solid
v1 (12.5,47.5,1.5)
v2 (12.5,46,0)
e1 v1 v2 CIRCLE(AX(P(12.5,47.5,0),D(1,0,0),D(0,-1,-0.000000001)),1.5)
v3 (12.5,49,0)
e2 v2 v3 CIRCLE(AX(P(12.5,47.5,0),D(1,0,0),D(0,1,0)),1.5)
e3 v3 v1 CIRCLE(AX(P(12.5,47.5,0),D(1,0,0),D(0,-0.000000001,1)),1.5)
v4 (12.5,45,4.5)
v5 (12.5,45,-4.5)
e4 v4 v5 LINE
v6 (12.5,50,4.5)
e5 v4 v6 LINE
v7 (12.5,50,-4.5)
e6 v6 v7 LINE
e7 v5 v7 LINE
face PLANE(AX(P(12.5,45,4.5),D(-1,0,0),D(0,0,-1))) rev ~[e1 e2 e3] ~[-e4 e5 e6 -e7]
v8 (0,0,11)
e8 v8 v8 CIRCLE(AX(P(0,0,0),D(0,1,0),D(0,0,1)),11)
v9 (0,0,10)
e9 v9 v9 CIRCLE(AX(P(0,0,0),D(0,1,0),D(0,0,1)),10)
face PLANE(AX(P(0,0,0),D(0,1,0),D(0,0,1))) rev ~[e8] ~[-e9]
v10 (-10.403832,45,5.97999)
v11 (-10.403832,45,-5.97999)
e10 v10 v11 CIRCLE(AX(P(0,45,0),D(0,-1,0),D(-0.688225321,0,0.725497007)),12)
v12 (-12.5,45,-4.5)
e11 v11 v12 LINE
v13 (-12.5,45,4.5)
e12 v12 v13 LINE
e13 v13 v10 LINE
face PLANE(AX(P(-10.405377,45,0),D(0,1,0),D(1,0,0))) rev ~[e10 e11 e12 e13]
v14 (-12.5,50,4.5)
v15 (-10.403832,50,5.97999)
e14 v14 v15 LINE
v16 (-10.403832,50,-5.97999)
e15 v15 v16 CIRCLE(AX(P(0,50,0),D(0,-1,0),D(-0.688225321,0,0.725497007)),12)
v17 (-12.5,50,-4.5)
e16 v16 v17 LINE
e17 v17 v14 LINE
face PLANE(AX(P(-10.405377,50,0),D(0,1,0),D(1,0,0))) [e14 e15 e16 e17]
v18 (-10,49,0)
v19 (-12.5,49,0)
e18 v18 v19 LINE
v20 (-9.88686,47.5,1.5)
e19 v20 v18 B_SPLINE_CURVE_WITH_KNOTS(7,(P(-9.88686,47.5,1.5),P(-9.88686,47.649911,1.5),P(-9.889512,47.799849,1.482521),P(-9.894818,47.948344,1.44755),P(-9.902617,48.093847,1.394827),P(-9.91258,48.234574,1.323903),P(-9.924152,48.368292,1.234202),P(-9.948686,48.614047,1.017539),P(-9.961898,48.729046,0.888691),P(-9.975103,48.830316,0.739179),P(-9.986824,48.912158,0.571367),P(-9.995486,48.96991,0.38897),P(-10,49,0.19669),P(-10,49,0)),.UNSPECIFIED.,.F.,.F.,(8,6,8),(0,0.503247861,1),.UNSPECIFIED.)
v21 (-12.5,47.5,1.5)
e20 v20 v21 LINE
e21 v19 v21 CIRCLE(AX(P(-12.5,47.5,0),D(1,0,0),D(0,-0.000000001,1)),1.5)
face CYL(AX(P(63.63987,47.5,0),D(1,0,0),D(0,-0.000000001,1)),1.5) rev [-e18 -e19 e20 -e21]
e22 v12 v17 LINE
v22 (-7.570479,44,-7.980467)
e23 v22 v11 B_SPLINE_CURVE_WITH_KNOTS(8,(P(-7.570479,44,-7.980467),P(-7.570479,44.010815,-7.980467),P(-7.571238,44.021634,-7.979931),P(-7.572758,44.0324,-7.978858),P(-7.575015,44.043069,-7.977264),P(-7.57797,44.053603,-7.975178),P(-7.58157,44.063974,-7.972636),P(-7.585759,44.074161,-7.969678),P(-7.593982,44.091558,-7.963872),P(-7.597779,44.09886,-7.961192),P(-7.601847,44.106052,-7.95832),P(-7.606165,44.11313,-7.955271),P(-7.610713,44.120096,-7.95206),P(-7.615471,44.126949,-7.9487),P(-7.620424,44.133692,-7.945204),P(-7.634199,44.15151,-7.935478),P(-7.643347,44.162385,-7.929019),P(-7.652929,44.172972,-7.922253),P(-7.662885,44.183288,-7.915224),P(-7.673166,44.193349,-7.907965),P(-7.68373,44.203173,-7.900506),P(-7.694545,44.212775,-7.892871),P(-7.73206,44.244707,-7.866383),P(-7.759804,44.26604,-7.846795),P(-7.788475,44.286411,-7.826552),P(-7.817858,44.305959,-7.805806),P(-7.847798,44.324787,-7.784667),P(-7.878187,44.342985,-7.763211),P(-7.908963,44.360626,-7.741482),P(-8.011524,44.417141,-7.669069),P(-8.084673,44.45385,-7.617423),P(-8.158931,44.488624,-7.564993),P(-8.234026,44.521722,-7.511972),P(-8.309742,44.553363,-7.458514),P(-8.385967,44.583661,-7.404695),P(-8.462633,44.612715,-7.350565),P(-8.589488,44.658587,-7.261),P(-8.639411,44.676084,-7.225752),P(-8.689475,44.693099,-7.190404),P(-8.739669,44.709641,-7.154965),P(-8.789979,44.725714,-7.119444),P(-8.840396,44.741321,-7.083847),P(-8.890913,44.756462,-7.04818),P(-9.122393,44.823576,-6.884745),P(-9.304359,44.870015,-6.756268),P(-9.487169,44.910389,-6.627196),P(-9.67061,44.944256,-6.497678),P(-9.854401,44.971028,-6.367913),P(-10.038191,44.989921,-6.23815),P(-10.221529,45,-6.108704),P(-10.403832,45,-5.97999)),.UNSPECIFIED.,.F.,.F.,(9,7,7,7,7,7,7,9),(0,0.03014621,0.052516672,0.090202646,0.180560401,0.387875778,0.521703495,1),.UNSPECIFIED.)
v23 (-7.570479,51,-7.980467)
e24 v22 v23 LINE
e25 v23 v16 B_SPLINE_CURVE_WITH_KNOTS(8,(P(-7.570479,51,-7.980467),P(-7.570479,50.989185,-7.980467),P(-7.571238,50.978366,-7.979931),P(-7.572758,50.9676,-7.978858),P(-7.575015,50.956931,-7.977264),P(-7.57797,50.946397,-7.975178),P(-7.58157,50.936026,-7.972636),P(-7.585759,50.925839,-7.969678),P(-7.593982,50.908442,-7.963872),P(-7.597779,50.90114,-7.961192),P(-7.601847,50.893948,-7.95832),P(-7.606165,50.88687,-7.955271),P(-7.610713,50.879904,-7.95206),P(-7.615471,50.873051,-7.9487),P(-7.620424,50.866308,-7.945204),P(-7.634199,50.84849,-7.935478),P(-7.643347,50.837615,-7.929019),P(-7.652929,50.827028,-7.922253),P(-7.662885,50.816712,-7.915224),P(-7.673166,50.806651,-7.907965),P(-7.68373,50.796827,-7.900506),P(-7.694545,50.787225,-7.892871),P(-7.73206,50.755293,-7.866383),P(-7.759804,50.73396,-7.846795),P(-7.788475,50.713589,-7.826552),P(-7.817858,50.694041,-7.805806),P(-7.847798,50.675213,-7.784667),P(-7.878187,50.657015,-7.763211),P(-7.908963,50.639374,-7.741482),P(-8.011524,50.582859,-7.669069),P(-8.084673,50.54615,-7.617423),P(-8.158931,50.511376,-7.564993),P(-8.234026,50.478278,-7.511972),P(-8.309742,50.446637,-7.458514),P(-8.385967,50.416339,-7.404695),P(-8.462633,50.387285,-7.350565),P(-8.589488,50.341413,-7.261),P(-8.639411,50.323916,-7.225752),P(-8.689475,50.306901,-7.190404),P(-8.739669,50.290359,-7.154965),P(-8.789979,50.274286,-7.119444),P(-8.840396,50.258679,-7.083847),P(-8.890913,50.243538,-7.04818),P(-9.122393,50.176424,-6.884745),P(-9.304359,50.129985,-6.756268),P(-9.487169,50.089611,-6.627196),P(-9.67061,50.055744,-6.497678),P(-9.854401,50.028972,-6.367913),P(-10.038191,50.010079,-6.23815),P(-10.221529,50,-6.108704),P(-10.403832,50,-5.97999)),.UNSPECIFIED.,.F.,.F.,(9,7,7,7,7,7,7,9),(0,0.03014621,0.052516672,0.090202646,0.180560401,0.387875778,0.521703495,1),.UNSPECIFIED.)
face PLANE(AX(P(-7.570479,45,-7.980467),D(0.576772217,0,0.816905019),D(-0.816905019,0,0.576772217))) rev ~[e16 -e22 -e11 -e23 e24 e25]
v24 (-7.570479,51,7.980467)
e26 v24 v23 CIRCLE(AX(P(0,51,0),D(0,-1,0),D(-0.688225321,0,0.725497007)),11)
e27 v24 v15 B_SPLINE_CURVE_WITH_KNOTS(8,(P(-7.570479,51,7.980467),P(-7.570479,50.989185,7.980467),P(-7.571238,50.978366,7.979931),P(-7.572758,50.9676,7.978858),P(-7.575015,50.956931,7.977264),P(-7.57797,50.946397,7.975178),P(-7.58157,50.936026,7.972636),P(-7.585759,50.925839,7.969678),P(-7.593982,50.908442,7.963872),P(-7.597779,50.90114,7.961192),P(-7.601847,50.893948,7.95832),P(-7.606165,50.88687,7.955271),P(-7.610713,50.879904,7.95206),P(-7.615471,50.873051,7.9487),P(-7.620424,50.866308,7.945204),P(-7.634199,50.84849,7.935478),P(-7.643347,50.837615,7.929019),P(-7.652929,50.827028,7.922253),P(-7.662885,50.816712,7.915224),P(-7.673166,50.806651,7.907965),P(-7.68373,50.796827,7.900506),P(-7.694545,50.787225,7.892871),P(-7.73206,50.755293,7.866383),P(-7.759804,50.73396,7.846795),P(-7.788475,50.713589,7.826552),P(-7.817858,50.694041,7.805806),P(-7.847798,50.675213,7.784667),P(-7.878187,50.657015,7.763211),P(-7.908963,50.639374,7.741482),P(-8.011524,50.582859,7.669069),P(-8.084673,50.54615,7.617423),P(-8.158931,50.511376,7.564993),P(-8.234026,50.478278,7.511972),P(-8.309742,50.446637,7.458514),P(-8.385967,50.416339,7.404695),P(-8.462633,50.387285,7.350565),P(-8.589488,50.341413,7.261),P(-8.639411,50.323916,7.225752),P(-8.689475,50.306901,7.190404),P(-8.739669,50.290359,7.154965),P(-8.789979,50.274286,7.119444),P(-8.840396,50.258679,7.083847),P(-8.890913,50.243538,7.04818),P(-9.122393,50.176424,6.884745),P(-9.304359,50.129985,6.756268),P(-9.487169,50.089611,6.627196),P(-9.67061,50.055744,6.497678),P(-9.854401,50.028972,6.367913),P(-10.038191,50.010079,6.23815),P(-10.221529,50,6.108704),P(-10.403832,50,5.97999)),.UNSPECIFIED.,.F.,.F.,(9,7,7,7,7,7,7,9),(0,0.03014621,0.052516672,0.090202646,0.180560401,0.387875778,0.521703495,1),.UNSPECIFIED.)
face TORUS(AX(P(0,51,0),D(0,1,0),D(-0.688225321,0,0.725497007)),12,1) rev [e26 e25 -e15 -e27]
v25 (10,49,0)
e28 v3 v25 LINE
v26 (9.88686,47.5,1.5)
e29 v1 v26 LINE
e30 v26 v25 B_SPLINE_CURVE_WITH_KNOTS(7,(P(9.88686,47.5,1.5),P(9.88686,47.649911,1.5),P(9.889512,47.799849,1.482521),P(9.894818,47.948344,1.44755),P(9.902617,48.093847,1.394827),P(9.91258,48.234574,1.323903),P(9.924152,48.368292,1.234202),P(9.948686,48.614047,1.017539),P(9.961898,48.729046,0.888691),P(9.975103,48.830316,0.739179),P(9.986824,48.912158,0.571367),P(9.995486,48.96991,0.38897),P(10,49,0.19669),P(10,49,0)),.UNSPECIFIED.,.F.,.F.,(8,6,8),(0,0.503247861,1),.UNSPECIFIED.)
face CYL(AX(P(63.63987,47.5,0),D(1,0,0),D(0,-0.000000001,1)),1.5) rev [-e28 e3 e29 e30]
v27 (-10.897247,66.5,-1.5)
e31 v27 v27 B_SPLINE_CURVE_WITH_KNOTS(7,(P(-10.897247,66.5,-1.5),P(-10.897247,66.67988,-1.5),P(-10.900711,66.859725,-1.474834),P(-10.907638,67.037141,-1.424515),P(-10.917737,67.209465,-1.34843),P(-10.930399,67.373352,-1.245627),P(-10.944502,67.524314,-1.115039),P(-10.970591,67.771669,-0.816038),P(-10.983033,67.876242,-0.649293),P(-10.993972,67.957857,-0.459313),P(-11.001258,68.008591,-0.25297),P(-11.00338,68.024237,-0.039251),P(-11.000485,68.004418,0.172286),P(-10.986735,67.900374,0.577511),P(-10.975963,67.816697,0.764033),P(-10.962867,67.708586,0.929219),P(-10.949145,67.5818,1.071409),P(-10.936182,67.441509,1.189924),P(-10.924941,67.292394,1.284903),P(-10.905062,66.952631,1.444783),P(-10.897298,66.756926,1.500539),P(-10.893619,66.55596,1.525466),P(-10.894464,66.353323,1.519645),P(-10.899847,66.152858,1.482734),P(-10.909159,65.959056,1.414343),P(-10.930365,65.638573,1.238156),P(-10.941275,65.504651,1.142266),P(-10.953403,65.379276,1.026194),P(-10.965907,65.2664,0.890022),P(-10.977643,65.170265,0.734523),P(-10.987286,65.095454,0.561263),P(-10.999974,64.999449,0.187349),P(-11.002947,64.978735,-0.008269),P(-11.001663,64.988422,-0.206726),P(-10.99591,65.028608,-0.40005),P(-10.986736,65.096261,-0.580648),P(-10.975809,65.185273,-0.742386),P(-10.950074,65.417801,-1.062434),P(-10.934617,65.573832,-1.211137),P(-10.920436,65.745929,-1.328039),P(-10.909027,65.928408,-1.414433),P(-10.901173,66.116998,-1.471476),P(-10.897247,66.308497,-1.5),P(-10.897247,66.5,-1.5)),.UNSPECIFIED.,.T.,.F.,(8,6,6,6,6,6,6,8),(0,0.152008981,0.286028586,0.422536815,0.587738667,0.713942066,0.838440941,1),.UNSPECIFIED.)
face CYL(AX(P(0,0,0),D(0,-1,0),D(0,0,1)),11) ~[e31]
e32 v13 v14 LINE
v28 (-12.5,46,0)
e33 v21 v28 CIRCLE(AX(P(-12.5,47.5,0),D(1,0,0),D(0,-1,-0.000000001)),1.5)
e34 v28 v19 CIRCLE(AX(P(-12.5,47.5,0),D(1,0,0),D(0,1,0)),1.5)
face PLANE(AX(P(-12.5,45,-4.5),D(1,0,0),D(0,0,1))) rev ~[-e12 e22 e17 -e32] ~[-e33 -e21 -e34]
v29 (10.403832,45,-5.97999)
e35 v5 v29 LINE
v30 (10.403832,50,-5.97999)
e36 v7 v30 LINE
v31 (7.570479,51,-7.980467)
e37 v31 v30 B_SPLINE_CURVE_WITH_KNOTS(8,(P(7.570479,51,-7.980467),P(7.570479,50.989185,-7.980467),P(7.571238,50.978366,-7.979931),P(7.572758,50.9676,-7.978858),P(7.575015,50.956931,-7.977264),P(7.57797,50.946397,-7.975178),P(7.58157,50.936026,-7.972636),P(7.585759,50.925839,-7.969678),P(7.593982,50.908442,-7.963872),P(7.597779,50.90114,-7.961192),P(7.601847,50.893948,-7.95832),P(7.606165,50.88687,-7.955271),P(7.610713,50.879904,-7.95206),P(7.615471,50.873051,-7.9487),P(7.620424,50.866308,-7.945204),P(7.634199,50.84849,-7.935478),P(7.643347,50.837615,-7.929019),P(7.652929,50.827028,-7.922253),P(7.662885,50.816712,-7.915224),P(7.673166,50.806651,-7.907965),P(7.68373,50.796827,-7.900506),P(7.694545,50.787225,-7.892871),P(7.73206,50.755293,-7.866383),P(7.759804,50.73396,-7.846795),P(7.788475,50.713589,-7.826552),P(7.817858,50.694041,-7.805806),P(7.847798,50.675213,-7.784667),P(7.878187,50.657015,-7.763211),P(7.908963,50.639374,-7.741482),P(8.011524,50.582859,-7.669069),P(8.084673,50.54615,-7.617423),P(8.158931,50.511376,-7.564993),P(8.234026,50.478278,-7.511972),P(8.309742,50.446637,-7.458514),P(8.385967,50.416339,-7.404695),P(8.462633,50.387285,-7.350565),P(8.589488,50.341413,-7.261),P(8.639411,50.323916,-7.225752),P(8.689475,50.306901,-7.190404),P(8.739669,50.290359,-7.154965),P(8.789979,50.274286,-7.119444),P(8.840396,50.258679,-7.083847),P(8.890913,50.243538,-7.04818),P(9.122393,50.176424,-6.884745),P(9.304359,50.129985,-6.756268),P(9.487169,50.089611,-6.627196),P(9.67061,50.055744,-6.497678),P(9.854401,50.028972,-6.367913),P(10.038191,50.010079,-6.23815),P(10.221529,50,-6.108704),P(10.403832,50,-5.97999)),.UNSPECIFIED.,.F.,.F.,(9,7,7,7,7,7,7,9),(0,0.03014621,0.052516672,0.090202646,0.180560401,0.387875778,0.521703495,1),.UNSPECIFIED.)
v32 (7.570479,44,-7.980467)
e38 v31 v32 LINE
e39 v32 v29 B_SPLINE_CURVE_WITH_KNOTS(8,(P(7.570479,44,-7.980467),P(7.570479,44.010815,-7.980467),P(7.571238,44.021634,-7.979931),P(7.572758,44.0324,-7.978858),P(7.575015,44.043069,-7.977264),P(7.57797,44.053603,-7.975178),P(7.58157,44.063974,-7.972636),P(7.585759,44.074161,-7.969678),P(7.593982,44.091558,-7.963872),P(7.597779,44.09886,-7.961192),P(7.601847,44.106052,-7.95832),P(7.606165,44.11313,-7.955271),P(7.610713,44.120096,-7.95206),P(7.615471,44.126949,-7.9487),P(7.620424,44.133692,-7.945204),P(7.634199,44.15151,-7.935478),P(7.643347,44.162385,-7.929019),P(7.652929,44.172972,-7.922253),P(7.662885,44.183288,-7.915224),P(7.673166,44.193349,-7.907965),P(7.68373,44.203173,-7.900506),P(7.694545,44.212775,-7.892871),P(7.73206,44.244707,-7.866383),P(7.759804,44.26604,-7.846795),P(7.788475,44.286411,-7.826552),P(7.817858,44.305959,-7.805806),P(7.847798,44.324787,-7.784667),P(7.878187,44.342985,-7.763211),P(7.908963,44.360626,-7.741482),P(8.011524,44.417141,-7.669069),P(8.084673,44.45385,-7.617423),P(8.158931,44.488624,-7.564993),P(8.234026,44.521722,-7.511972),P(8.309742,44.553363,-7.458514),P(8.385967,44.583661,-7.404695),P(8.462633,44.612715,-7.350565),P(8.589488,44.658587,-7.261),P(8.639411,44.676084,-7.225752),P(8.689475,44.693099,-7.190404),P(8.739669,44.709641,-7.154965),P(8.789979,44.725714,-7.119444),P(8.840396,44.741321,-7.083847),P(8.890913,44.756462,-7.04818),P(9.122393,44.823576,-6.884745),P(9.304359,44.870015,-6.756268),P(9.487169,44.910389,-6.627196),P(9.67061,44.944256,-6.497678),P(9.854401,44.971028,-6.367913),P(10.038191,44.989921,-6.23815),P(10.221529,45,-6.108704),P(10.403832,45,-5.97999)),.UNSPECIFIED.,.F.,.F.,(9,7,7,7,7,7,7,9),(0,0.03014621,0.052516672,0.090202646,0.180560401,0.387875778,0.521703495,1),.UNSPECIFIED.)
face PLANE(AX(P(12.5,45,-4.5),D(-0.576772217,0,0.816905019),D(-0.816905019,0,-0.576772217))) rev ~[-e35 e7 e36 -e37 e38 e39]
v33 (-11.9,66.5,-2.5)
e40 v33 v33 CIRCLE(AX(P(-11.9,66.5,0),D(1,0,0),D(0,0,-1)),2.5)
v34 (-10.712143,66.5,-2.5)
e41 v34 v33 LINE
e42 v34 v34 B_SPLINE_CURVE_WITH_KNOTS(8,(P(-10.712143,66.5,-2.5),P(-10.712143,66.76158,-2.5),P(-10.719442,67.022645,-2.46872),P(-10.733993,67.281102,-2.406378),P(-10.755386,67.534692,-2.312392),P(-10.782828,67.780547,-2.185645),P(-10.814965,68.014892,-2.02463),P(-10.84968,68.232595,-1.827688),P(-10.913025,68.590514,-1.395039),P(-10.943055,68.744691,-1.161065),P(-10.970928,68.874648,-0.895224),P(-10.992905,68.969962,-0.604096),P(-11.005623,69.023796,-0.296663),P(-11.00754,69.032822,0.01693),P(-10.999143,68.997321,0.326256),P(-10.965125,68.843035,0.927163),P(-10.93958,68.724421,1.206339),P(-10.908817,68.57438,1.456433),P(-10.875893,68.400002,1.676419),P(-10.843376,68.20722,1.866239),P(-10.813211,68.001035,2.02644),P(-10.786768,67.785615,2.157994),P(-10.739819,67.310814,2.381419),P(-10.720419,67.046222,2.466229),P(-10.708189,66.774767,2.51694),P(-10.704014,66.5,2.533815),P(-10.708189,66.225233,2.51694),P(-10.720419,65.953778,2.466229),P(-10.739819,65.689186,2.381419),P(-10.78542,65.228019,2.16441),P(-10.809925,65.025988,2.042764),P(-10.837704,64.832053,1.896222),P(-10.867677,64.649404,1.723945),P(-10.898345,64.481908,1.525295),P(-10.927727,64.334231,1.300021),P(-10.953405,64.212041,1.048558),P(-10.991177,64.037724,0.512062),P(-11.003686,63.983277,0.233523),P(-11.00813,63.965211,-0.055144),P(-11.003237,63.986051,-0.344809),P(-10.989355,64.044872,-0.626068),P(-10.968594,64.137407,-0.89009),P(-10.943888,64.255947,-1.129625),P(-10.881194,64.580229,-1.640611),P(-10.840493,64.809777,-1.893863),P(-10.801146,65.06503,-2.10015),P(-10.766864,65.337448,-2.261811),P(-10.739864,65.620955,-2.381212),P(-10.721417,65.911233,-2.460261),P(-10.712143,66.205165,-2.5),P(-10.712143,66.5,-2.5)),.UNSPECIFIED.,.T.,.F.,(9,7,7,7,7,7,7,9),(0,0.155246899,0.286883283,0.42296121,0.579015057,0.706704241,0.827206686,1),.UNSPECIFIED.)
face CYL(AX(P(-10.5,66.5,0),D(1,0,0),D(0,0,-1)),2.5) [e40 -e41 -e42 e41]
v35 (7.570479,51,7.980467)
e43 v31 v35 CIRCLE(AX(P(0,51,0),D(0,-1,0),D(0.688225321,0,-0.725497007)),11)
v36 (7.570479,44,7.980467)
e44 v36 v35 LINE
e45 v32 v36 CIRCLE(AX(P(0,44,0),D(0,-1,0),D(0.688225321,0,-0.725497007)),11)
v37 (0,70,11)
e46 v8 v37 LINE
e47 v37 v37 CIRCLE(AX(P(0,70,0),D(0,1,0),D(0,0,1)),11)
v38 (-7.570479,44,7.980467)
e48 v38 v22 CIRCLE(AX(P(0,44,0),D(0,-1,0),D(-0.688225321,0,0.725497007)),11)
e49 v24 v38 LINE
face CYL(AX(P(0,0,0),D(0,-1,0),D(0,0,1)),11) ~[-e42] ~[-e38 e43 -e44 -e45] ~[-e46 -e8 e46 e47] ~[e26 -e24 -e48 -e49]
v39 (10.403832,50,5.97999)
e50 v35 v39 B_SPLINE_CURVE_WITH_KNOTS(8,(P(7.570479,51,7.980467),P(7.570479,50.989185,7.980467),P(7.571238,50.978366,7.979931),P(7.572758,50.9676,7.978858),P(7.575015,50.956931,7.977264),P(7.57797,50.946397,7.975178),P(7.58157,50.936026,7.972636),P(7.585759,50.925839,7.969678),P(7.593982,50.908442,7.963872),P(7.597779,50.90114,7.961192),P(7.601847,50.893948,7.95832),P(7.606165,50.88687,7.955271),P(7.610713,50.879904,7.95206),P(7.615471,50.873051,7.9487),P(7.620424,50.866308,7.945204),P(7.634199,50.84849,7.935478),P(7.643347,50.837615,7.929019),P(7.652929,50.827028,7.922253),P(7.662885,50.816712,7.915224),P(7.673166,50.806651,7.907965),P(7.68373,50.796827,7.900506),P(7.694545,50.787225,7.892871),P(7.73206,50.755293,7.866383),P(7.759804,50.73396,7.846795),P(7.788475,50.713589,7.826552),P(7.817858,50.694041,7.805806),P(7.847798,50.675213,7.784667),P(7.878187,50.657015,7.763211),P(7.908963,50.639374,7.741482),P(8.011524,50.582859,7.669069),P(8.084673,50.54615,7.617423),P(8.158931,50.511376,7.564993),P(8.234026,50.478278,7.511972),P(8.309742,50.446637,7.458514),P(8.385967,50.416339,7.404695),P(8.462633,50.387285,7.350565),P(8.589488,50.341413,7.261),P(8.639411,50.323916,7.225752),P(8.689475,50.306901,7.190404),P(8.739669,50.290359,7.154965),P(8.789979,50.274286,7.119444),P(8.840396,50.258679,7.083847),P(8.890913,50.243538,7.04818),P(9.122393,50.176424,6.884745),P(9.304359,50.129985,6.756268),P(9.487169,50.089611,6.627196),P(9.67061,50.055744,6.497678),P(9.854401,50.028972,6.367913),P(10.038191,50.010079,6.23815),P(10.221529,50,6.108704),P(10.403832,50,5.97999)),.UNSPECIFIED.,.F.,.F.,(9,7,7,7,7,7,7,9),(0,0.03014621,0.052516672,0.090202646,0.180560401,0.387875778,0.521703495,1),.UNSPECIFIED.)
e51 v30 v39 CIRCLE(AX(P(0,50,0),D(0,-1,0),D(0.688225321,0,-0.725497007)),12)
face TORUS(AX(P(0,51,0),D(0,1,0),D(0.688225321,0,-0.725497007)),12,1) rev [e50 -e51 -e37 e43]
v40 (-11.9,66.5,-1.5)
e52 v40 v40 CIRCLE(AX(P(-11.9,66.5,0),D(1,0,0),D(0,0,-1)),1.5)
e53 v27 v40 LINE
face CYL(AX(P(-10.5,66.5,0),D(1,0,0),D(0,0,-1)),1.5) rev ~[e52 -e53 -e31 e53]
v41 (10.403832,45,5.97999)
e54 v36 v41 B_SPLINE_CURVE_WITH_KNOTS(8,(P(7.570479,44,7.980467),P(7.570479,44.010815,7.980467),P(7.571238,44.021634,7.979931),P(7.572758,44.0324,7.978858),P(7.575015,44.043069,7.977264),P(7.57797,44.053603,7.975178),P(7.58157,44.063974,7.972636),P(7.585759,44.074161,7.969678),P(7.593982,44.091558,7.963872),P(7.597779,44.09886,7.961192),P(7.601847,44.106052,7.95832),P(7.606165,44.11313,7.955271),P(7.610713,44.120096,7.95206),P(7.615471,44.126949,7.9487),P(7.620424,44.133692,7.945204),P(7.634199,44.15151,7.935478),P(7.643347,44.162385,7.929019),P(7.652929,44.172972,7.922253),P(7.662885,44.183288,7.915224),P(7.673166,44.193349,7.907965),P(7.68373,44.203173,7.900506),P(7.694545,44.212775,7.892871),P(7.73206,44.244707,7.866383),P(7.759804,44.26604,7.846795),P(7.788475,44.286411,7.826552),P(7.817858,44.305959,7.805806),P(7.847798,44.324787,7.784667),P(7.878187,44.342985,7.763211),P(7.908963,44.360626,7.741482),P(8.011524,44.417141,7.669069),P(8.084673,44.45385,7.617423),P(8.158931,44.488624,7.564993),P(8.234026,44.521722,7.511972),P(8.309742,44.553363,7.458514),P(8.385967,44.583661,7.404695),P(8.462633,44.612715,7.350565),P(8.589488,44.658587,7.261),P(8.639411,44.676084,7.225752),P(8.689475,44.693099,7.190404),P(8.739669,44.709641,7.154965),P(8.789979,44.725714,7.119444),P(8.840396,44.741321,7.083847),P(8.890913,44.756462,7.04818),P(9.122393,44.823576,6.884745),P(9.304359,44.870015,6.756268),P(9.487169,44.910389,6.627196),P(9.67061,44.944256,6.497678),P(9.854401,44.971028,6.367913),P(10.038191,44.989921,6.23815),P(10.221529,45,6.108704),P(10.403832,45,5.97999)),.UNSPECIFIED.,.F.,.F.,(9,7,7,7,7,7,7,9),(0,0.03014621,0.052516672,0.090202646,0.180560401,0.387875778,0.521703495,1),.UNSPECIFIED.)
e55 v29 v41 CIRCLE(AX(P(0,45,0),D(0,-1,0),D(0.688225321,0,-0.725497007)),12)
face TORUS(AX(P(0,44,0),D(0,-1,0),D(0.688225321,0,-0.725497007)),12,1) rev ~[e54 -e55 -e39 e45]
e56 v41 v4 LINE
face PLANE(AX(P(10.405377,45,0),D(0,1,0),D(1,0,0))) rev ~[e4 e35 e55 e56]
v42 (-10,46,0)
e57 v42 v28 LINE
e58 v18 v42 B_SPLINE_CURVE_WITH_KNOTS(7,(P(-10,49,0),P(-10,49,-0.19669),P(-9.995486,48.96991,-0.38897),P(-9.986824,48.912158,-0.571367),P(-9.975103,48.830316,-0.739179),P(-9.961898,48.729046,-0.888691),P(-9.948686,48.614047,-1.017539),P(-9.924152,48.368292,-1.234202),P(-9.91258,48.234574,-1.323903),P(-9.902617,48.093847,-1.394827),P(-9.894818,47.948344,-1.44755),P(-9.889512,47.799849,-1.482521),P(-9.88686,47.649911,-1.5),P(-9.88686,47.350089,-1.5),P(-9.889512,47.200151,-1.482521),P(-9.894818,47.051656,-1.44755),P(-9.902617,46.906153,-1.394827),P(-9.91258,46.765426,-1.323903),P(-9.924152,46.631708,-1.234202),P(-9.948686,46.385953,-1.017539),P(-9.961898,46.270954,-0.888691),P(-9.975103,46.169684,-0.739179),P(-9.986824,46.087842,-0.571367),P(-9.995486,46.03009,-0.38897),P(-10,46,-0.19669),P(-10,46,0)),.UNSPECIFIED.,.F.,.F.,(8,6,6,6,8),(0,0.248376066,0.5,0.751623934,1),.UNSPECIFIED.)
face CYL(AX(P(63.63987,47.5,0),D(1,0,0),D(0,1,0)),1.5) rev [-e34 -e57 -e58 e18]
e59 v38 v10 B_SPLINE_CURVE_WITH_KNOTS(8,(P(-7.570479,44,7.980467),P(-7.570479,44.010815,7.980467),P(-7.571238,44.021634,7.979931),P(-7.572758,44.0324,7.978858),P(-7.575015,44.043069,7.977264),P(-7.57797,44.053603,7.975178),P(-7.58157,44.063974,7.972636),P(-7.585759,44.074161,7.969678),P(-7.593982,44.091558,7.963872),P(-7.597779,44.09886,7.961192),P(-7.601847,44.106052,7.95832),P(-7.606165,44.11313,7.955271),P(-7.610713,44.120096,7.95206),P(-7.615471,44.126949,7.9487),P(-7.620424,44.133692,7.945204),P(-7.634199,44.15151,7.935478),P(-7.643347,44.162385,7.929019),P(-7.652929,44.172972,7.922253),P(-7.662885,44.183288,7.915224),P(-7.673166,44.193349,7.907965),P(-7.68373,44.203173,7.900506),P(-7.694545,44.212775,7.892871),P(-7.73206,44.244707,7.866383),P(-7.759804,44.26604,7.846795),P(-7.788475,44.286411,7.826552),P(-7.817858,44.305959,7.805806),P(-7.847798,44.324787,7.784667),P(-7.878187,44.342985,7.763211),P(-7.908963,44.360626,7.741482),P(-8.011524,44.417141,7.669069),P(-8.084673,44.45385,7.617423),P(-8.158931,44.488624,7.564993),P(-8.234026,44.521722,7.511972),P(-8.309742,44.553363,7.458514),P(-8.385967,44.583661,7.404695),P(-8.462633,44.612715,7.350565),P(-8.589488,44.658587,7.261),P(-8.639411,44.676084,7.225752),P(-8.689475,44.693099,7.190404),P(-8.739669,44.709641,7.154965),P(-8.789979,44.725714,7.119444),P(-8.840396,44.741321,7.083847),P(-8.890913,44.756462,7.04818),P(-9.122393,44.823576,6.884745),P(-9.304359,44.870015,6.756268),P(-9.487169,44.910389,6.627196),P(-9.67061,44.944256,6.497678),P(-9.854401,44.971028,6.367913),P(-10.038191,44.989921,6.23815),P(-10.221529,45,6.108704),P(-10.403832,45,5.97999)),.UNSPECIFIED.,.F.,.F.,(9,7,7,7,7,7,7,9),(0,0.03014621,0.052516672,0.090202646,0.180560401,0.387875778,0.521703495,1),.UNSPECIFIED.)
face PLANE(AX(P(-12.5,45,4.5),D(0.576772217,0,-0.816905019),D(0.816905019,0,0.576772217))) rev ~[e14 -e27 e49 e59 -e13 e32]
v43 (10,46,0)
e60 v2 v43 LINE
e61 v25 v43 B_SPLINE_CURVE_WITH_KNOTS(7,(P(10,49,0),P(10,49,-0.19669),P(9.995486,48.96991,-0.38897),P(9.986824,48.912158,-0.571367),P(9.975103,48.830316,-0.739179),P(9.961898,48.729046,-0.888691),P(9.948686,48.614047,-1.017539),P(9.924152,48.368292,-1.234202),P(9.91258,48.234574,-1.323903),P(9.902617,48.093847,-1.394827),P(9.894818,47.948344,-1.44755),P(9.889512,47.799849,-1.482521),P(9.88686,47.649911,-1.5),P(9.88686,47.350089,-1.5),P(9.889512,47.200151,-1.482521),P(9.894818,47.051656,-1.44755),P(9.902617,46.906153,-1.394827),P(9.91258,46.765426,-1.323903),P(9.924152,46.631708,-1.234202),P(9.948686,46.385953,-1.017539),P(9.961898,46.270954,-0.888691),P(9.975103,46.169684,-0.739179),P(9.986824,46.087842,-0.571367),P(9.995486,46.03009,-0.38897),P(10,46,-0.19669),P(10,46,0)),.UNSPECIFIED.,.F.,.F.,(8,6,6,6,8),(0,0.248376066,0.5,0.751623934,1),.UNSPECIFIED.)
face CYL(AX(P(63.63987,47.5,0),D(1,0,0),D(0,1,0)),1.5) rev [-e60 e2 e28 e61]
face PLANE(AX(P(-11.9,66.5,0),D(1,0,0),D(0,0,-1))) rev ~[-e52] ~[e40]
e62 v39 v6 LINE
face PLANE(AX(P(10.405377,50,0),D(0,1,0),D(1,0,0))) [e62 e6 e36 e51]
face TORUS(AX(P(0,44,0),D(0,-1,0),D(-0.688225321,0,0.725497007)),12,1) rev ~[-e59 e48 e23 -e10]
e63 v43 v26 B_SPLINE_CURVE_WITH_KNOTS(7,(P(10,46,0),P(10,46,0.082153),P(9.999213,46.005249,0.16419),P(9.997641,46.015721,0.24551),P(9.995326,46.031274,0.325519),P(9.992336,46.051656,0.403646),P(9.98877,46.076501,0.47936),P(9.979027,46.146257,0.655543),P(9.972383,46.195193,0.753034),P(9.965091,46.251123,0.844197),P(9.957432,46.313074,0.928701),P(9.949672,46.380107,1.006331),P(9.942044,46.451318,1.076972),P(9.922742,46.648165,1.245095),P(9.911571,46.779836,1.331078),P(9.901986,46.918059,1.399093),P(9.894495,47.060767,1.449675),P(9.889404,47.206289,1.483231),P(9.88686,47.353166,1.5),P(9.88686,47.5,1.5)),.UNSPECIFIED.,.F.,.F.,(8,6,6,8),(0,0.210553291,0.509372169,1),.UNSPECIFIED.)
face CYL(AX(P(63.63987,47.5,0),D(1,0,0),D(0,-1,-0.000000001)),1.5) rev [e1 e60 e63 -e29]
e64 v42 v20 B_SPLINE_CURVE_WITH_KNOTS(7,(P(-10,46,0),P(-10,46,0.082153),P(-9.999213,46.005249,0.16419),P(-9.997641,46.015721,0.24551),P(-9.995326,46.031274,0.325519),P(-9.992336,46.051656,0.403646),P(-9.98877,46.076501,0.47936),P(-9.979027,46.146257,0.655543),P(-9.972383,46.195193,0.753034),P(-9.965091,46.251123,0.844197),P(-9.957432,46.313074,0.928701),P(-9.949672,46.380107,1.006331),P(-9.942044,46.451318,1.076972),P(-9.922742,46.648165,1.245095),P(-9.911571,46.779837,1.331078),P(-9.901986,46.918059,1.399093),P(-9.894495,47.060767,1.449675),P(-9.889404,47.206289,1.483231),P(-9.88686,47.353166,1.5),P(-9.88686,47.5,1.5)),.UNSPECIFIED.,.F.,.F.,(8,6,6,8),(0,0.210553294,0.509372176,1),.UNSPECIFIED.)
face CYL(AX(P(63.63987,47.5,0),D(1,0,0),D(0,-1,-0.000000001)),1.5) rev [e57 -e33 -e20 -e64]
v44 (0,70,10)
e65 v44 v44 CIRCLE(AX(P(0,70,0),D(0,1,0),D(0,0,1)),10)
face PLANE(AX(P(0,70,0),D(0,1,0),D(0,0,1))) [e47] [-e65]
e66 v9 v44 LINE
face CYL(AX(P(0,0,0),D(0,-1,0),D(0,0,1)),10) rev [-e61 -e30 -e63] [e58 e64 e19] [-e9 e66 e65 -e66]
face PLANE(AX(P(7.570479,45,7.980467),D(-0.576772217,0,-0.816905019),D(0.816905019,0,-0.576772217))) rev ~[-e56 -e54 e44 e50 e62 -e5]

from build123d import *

# Parameters (mm, degrees)
CROQUIS1_R                 = 11
CROQUIS1_R_2               = 10
SALIENTE_EXTRUIR1_DEPTH    = 70
SALIENTE_EXTRUIR2_START    = -5
SALIENTE_EXTRUIR2_DEPTH    = 5
CORTAR_EXTRUIR1_DEPTH      = 76.139869577
CORTAR_EXTRUIR1_DEPTH_BACK = 76.139869577
REDONDEO1_R                = 1
SALIENTE_EXTRUIR3_START    = -10.5
CROQUIS4_R                 = 2.5
CROQUIS4_R_2               = 1.5
SALIENTE_EXTRUIR3_DEPTH    = 1.4


with BuildPart() as part:
    # Croquis1 → Saliente-Extruir1 (new body)
    with BuildSketch(Plane(origin=(0, 0, 0), x_dir=(1, 0, 0), z_dir=(0, 1, 0))):
        with Locations(Location((0, 0, 0), (0, 0, 270))):
            Circle(CROQUIS1_R)
        with Locations(Location((0, 0, 0), (0, 0, 270))):
            Circle(CROQUIS1_R_2, mode=Mode.SUBTRACT)
    extrude(amount=SALIENTE_EXTRUIR1_DEPTH)

    # Croquis2 → Saliente-Extruir2 (add)
    with BuildSketch(Plane(origin=(0, 50, 0), x_dir=(1, 0, 0), z_dir=(0, 1, 0)).offset(SALIENTE_EXTRUIR2_START)):
        with BuildLine():
            Line((-12.5, 4.5), (-12.5, -4.5))
            Line((-12.5, -4.5), (-7.570478535, -7.980467076))
            ThreePointArc((-7.570478535, -7.980467076), (-11, 0), (-7.570478535, 7.980467076))
            Line((-7.570478535, 7.980467076), (-12.5, 4.5))
        make_face()
        with BuildLine():
            Line((12.5, -4.5), (12.5, 4.5))
            Line((12.5, 4.5), (7.570478535, 7.980467076))
            ThreePointArc((7.570478535, 7.980467076), (11, 0), (7.570478535, -7.980467076))
            Line((7.570478535, -7.980467076), (12.5, -4.5))
        make_face()
    extrude(amount=SALIENTE_EXTRUIR2_DEPTH)

    # Croquis3 → Cortar-Extruir1 (cut, two sides: drawn at the far end of the back side and taken through both)
    with BuildSketch(Plane.ZY.offset(12.5).offset(-CORTAR_EXTRUIR1_DEPTH_BACK)):
        with BuildLine():
            ThreePointArc((0, 49), (-1.5, 47.5), (0, 46))
            Line((0, 46), (0, 49))
        make_face()
        with BuildLine():
            Line((0, 49), (0, 46))
            ThreePointArc((0, 46), (1.060660172, 46.439339828), (1.5, 47.5))
            ThreePointArc((1.5, 47.5), (1.060660172, 48.560660172), (0, 49))
        make_face()
    extrude(amount=CORTAR_EXTRUIR1_DEPTH + CORTAR_EXTRUIR1_DEPTH_BACK, mode=Mode.SUBTRACT)

    # Redondeo1
    redondeo1_edges = [part.edges().sort_by_distance(p)[0] for p in [
        (-11, 50, 0),
        (-11, 45, 0),
        (11, 45, 0),
        (11, 50, 0),
    ]]
    fillet(redondeo1_edges, radius=REDONDEO1_R)

    # Croquis4 → Saliente-Extruir3 (add)
    with BuildSketch(Plane(origin=(0, 0, 0), x_dir=(0, 0, -1), z_dir=(1, 0, 0)).offset(SALIENTE_EXTRUIR3_START)):
        with Locations((0, 66.5)):
            Circle(CROQUIS4_R)
        with Locations((0, 66.5)):
            Circle(CROQUIS4_R_2, mode=Mode.SUBTRACT)
    extrude(amount=-SALIENTE_EXTRUIR3_DEPTH)


solid = part.part
